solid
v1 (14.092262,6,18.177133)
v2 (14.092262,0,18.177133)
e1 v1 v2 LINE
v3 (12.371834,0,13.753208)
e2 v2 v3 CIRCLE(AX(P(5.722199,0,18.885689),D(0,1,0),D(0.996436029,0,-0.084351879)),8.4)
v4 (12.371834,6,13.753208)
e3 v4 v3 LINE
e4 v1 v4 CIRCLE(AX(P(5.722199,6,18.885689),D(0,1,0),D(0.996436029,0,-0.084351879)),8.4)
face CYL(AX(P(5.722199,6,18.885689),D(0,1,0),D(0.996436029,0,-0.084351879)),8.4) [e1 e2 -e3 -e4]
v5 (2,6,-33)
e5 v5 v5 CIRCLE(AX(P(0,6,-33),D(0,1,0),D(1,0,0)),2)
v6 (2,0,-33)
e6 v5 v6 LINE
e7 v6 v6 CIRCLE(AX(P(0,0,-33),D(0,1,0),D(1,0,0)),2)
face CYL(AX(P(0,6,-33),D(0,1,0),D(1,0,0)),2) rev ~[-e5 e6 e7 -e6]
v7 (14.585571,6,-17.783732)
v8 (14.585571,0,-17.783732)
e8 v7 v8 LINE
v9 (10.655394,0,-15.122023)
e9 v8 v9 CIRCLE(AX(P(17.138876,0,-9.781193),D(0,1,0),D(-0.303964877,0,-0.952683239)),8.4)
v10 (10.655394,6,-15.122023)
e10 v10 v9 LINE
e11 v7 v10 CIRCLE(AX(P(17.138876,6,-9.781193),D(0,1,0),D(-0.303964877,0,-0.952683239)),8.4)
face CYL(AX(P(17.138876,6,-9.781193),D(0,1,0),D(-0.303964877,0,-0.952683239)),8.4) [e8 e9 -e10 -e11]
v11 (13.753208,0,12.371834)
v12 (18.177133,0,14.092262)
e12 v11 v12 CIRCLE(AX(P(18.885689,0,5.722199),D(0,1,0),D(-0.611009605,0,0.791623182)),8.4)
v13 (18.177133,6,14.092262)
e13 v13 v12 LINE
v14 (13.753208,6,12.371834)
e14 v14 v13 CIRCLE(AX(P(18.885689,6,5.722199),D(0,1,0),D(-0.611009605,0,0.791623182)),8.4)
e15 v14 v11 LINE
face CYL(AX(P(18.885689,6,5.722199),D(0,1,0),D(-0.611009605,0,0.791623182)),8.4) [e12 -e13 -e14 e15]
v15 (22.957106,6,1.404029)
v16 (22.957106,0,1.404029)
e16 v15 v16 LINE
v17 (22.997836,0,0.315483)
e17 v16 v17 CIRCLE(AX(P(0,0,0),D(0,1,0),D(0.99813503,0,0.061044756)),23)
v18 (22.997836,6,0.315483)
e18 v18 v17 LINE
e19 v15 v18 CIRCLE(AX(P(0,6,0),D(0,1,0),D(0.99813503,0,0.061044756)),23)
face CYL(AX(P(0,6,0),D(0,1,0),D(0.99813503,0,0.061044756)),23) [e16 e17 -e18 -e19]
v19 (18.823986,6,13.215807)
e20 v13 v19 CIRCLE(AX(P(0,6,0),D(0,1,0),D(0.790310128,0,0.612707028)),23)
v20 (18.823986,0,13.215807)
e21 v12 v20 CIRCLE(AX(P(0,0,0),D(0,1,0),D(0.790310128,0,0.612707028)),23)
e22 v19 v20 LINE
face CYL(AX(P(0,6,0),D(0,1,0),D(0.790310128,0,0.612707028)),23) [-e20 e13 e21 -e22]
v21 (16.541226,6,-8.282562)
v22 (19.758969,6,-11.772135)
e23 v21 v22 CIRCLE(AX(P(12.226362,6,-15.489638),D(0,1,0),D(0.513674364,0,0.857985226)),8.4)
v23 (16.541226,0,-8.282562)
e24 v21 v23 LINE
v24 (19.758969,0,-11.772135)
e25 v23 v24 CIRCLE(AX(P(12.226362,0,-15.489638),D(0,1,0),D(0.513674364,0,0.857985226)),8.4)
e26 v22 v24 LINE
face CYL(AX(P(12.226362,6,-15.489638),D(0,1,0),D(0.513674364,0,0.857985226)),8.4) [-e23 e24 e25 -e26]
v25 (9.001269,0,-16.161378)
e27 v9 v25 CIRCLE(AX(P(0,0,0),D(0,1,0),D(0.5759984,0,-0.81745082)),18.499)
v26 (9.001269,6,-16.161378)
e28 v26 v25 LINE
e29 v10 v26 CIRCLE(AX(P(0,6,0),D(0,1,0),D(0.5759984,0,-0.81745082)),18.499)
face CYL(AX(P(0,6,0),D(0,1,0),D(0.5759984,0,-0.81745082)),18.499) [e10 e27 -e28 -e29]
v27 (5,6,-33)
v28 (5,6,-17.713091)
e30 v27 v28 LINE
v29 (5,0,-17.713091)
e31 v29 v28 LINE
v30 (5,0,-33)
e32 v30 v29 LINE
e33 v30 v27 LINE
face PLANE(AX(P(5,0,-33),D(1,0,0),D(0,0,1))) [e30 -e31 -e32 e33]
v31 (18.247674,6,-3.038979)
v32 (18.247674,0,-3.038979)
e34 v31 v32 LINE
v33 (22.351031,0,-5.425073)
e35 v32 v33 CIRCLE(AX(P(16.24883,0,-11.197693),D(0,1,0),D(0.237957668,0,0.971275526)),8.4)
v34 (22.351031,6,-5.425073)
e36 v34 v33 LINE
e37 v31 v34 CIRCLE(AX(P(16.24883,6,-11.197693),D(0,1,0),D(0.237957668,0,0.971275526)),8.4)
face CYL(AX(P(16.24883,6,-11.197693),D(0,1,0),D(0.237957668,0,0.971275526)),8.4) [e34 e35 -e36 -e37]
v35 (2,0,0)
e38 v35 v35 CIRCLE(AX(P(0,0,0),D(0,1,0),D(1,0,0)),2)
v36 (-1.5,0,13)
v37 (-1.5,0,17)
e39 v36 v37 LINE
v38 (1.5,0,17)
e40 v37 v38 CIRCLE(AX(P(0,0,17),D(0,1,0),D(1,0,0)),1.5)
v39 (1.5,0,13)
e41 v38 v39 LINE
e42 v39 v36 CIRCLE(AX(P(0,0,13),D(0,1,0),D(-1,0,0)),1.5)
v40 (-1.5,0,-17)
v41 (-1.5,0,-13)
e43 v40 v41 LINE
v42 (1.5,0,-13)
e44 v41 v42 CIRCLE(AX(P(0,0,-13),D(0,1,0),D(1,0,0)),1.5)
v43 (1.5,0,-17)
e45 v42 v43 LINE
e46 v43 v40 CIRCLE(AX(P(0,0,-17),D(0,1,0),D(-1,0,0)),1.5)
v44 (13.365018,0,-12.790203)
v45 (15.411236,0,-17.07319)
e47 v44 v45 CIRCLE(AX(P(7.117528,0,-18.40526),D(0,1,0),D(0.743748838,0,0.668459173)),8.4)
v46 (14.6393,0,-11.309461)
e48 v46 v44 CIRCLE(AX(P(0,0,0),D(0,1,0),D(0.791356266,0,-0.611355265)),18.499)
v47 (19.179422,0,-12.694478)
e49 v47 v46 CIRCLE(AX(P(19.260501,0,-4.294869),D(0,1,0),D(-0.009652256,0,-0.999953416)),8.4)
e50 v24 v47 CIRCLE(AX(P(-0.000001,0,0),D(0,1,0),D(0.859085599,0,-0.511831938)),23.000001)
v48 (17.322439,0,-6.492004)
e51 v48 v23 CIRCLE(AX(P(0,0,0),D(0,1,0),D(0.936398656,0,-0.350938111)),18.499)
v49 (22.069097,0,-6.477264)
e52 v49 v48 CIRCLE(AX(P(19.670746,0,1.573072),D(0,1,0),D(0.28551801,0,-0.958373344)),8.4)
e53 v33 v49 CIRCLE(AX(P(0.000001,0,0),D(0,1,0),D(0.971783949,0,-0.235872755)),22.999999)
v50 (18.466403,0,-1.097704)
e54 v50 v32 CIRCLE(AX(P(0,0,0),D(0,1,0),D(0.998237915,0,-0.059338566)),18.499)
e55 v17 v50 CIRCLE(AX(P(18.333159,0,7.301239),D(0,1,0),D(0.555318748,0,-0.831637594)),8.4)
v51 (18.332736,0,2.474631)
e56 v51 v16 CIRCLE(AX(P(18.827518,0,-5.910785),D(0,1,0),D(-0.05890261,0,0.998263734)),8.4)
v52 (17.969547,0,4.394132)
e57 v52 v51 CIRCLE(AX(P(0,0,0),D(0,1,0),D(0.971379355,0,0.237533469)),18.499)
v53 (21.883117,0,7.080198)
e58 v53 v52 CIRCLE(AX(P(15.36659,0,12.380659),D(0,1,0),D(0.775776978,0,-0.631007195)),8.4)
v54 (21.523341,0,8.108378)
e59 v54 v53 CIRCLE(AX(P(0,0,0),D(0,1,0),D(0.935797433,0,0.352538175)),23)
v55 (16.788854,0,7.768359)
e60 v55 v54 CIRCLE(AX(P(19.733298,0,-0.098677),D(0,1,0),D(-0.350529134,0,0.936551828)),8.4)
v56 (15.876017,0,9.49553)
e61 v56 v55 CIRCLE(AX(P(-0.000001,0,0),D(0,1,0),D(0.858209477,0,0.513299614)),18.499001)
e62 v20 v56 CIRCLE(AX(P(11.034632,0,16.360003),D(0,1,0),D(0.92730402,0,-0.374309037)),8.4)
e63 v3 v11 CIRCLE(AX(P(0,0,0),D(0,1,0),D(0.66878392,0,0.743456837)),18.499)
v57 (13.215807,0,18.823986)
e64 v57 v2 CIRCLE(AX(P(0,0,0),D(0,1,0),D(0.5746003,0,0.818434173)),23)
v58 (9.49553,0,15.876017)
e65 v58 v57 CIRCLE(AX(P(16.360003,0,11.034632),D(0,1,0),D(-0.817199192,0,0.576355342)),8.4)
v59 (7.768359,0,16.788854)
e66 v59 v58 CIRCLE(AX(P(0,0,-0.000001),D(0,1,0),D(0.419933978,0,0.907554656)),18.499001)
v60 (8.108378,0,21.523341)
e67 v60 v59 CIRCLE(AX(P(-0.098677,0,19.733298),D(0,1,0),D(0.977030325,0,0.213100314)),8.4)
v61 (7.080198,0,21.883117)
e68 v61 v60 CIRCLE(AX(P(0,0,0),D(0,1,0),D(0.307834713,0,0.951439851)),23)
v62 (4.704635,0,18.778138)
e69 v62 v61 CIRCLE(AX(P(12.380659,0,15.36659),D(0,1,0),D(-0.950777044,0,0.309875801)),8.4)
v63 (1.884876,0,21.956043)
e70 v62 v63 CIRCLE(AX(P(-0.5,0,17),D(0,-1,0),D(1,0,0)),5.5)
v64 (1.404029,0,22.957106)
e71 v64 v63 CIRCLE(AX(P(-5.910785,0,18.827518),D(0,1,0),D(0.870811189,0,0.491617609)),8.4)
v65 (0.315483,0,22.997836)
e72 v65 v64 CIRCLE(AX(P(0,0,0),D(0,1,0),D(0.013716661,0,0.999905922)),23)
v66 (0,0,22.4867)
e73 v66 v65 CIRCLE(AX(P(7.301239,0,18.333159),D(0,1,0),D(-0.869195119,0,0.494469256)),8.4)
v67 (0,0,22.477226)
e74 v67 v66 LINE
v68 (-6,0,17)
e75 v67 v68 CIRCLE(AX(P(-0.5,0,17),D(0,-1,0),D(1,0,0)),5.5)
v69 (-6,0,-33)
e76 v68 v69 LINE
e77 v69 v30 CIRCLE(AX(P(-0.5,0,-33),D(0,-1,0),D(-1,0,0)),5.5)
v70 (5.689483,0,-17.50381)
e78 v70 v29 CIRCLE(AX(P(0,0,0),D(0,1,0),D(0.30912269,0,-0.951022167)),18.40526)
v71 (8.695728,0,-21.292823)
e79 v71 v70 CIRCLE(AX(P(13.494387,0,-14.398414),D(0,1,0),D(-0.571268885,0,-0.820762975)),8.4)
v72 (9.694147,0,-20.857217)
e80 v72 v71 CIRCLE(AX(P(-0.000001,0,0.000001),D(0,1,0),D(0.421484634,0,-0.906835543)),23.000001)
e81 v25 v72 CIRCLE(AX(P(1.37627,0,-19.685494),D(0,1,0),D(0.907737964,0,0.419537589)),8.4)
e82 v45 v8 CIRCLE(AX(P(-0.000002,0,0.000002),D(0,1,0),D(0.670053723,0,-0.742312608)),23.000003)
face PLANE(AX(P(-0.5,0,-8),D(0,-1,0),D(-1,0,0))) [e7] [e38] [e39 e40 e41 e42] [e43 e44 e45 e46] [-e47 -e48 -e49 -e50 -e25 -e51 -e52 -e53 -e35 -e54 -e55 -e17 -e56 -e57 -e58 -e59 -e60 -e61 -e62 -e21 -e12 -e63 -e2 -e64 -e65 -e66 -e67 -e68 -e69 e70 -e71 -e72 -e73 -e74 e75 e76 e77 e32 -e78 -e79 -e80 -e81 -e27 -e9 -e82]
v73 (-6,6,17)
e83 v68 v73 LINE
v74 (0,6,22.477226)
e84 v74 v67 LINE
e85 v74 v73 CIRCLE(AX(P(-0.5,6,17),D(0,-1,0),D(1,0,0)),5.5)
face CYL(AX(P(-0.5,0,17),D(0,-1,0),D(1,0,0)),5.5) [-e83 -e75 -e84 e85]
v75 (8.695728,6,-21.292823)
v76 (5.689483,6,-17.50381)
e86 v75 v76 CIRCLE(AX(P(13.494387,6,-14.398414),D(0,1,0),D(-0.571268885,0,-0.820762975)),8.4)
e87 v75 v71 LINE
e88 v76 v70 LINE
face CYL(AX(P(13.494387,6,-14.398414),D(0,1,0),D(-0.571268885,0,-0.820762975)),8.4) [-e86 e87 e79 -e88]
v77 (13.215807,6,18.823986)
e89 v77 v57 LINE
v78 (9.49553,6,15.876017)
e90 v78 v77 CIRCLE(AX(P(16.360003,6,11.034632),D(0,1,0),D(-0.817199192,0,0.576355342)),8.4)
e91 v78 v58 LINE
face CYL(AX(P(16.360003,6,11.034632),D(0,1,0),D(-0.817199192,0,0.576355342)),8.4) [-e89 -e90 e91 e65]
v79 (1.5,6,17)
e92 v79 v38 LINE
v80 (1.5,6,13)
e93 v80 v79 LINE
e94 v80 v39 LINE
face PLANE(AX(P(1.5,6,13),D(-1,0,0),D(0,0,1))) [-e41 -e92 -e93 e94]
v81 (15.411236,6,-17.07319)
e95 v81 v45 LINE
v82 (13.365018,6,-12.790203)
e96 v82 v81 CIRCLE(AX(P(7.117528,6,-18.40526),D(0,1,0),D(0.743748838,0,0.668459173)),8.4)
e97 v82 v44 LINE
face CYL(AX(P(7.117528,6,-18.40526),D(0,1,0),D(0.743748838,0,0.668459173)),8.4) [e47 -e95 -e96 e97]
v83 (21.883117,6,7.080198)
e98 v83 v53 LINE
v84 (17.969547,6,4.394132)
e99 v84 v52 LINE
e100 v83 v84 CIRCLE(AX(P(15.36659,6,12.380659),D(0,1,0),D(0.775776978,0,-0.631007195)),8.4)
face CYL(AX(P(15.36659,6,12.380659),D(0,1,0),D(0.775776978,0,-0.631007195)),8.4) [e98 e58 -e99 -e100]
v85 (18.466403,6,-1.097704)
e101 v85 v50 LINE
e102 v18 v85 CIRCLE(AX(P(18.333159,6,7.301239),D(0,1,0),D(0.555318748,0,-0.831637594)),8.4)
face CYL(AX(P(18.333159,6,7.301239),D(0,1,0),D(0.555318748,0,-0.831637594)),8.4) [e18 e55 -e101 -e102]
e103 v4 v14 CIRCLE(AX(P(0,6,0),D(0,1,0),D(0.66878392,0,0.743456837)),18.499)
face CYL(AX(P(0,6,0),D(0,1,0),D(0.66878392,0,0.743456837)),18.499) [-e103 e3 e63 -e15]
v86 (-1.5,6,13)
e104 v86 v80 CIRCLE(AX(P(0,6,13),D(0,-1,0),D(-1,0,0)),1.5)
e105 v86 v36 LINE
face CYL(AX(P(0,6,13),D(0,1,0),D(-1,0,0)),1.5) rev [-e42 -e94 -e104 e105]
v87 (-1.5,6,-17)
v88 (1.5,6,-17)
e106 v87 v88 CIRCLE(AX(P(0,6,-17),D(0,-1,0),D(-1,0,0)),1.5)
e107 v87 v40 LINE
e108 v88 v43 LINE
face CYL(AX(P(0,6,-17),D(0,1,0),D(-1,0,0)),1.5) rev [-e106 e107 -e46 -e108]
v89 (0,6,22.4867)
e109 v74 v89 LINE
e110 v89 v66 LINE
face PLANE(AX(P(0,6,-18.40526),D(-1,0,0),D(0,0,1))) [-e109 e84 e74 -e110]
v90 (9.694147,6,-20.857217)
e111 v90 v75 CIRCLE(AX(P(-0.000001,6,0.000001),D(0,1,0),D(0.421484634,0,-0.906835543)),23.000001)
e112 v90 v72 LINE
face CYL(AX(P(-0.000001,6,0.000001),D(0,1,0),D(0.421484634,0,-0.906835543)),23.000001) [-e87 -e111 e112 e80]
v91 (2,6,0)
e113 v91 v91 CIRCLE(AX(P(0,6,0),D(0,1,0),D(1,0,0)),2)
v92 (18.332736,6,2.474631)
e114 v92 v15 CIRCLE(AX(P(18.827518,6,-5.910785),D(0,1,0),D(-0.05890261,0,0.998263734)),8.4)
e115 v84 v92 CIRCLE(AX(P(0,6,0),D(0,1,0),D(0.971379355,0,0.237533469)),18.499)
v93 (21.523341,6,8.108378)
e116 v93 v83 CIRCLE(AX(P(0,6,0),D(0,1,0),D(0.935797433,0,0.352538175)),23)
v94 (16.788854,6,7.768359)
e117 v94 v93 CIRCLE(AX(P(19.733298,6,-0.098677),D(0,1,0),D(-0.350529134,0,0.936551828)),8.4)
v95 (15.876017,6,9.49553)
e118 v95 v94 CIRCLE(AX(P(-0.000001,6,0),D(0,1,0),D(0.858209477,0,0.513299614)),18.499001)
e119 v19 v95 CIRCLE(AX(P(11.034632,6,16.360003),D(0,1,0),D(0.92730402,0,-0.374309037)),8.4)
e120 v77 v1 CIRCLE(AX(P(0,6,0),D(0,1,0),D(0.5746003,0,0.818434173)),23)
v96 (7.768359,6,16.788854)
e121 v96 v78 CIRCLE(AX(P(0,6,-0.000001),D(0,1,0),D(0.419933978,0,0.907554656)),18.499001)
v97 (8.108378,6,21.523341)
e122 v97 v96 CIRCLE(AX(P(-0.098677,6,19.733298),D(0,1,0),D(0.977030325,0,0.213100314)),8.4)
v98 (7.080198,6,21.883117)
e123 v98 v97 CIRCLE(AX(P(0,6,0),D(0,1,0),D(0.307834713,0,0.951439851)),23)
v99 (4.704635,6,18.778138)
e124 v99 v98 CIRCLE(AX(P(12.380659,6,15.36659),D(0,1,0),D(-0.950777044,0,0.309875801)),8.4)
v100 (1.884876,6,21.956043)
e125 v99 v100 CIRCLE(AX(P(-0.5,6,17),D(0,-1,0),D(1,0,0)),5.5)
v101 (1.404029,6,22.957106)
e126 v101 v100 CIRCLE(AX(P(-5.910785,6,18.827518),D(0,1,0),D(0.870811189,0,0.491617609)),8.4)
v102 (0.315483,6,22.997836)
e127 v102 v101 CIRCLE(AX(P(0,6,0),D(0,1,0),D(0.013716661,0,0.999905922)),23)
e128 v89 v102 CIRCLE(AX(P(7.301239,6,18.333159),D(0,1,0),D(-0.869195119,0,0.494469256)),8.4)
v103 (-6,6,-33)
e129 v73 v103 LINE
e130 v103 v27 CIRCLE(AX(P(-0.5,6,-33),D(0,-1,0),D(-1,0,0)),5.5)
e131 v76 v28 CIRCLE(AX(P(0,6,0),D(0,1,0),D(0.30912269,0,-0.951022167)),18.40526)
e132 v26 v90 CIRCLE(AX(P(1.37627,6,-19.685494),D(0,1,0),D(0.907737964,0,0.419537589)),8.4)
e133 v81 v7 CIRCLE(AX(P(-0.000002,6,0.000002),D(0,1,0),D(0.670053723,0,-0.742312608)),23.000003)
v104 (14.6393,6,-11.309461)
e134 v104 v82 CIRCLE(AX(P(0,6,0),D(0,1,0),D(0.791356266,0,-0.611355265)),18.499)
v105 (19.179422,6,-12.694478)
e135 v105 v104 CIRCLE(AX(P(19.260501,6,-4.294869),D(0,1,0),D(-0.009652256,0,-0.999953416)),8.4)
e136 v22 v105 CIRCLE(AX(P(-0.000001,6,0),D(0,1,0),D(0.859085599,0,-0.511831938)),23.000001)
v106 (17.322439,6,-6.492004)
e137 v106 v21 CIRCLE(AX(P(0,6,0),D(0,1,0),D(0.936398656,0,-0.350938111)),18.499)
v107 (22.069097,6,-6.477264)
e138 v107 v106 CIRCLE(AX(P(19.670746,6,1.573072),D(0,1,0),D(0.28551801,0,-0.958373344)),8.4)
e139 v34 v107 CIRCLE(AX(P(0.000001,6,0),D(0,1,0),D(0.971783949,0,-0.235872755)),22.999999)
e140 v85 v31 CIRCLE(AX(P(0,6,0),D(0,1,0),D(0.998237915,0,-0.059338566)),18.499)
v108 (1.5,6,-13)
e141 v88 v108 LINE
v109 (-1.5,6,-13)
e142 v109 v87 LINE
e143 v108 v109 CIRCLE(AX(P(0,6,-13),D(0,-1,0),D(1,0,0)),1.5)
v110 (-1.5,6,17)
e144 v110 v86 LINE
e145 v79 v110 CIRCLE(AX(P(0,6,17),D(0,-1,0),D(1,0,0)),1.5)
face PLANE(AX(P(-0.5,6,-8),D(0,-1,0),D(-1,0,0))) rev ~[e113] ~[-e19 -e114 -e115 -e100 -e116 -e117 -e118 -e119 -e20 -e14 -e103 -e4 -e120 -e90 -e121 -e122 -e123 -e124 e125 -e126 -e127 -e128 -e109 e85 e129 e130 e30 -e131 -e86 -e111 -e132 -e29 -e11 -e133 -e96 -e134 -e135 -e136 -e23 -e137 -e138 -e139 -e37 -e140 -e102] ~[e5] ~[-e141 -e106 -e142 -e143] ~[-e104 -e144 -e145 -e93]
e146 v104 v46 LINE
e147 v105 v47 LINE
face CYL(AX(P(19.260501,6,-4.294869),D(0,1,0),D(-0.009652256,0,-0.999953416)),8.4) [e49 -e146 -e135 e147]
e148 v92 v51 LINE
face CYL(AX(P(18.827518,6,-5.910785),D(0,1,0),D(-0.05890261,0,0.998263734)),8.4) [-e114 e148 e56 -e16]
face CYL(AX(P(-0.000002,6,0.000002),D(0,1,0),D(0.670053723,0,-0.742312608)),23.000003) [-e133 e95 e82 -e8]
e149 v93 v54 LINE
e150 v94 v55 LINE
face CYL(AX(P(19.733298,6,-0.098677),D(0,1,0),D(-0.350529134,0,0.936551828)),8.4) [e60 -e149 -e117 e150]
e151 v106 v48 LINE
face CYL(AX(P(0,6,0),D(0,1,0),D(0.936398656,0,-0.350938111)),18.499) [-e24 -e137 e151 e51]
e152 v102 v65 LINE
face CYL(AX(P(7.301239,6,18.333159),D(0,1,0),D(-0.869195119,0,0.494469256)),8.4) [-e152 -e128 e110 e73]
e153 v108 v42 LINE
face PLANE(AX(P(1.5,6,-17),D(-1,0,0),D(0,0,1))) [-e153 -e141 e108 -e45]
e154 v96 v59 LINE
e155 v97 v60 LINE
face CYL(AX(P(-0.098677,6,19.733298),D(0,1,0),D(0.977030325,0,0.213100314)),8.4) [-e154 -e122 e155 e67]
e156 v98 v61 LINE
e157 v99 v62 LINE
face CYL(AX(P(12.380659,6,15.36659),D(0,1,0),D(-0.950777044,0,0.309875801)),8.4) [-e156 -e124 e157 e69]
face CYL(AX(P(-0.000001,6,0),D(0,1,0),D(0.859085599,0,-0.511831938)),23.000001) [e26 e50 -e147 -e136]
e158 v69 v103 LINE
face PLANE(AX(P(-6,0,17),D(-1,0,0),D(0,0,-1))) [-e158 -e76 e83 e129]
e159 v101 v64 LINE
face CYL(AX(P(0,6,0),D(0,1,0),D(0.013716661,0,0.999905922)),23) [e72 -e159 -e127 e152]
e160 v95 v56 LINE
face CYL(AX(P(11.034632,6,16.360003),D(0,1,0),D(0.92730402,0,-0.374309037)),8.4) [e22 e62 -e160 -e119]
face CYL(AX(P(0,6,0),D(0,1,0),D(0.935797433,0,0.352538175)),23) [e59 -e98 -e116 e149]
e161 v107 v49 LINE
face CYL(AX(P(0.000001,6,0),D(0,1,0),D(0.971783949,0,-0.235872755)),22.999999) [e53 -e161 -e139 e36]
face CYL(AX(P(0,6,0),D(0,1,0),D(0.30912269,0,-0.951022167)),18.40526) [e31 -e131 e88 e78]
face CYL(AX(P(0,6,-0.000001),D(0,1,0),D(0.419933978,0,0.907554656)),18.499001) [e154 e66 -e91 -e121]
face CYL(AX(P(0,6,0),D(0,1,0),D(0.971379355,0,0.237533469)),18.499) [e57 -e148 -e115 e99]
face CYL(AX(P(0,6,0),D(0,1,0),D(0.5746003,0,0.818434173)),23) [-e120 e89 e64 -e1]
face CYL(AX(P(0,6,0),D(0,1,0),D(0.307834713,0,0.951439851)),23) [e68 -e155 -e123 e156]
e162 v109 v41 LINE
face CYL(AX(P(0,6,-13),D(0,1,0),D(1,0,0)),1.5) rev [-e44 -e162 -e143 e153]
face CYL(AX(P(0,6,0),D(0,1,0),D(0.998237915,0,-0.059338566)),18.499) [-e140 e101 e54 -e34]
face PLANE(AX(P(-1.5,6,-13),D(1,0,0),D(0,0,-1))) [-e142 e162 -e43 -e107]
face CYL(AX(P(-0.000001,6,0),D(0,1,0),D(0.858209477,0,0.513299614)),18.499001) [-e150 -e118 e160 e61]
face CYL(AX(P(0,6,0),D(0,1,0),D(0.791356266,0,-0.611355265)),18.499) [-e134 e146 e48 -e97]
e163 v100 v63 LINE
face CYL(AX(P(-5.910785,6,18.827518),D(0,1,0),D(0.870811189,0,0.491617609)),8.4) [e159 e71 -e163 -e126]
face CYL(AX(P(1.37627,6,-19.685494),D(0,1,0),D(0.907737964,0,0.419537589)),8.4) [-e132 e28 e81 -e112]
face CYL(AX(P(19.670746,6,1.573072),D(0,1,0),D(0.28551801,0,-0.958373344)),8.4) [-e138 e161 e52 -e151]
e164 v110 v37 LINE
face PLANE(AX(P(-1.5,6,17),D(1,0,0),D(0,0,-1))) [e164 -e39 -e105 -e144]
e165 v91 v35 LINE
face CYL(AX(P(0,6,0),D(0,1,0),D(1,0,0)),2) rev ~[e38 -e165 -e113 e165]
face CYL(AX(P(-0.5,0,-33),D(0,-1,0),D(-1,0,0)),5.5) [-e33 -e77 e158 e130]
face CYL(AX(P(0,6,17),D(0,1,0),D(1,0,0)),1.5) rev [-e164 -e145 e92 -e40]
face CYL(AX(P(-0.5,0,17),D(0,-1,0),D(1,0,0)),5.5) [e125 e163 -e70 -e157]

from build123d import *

# Parameters (mm, degrees)
BOSS_EXTRUDE1_DEPTH = 6
BOSS_EXTRUDE2_DEPTH = 6
SKETCH2_R           = 2
CUT_EXTRUDE1_DEPTH  = 7


with BuildPart() as part:
    # Sketch1 → Boss-Extrude1 (new body)
    with BuildSketch(Plane(origin=(0, 0, 0), x_dir=(1, 0, 0), z_dir=(0, 1, 0))):
        with BuildLine():
            Line((5, 33), (5, 0))
            Line((5, 0), (5, -17))
            ThreePointArc((5, -17), (-0.5, -22.5), (-6, -17))
            Line((-6, -17), (-6, 0))
            Line((-6, 0), (-6, 33))
            ThreePointArc((-6, 33), (-0.5, 38.5), (5, 33))
        make_face()
    extrude(amount=BOSS_EXTRUDE1_DEPTH)

    # Sketch4 → Boss-Extrude2 (add)
    with BuildSketch(Plane(origin=(0, 6, 0), x_dir=(1, 0, 0), z_dir=(0, 1, 0))):
        with BuildLine():
            Line((0, 18.405260039), (0, -22.486700485))
            ThreePointArc((0, -22.486700485), (0.153171428, -22.74508915), (0.315483204, -22.99783621))
            ThreePointArc((0.315483204, -22.99783621), (0.859997468, -22.98391621), (1.404029403, -22.957105685))
            ThreePointArc((1.404029403, -22.957105685), (2.272765962, -20.722115477), (2.474630782, -18.332735843))
            ThreePointArc((2.474630782, -18.332735843), (3.439178821, -18.176497188), (4.39413166, -17.969546682))
            ThreePointArc((4.39413166, -17.969546682), (5.454980724, -20.120007959), (7.080198393, -21.883116568))
            ThreePointArc((7.080198393, -21.883116568), (7.596418425, -21.709316597), (8.108378007, -21.52334096))
            ThreePointArc((8.108378007, -21.52334096), (8.279744109, -19.1315805), (7.76835863, -16.7888536))
            ThreePointArc((7.76835863, -16.7888536), (8.644002354, -16.355250664), (9.495529586, -15.876017098))
            ThreePointArc((9.495529586, -15.876017098), (11.143107691, -17.618248663), (13.215806885, -18.823985986))
            ThreePointArc((13.215806885, -18.823985986), (13.657864268, -18.505748935), (14.092261641, -18.177132938))
            ThreePointArc((14.092261641, -18.177132938), (13.551030657, -15.841120639), (12.371833724, -13.753208037))
            ThreePointArc((12.371833724, -13.753208037), (13.080768345, -13.080768345), (13.753208037, -12.371833724))
            ThreePointArc((13.753208037, -12.371833724), (15.841120639, -13.551030657), (18.177132938, -14.092261641))
            ThreePointArc((18.177132938, -14.092261641), (18.505748935, -13.657864268), (18.823985986, -13.215806885))
            ThreePointArc((18.823985986, -13.215806885), (17.618248663, -11.143107691), (15.876017098, -9.495529586))
            ThreePointArc((15.876017098, -9.495529586), (16.355250664, -8.644002354), (16.7888536, -7.76835863))
            ThreePointArc((16.7888536, -7.76835863), (19.1315805, -8.279744109), (21.52334096, -8.108378007))
            ThreePointArc((21.52334096, -8.108378007), (21.709316597, -7.596418425), (21.883116568, -7.080198393))
            ThreePointArc((21.883116568, -7.080198393), (20.120007959, -5.454980724), (17.969546682, -4.39413166))
            ThreePointArc((17.969546682, -4.39413166), (18.176497188, -3.439178821), (18.332735843, -2.474630782))
            ThreePointArc((18.332735843, -2.474630782), (20.722115477, -2.272765962), (22.957105685, -1.404029403))
            ThreePointArc((22.957105685, -1.404029403), (22.98391621, -0.859997468), (22.99783621, -0.315483204))
            ThreePointArc((22.99783621, -0.315483204), (20.834016252, 0.717845219), (18.466403185, 1.097704147))
            ThreePointArc((18.466403185, 1.097704147), (18.382682171, 2.071230843), (18.247674055, 3.038978872))
            ThreePointArc((18.247674055, 3.038978872), (20.471399556, 3.936157414), (22.351030824, 5.425073374))
            ThreePointArc((22.351030824, 5.425073374), (22.216294005, 5.952838037), (22.069097181, 6.477264053))
            ThreePointArc((22.069097181, 6.477264053), (19.696830773, 6.826887464), (17.322438727, 6.492004123))
            ThreePointArc((17.322438727, 6.492004123), (16.955485171, 7.397602558), (16.541226348, 8.282561916))
            ThreePointArc((16.541226348, 8.282561916), (18.401709947, 9.795335931), (19.758968788, 11.772134574))
            ThreePointArc((19.758968788, 11.772134574), (19.474656582, 12.23673776), (19.179422019, 12.694477974))
            ThreePointArc((19.179422019, 12.694477974), (16.809495442, 12.329330799), (14.63929957, 11.309461043))
            ThreePointArc((14.63929957, 11.309461043), (14.021718906, 12.066664821), (13.365018091, 12.790202986))
            ThreePointArc((13.365018091, 12.790202986), (14.696947654, 14.784155864), (15.411235665, 17.073189956))
            ThreePointArc((15.411235665, 17.073189956), (15.002610459, 17.433349632), (14.585571043, 17.783731818))
            ThreePointArc((14.585571043, 17.783731818), (12.428562673, 16.736258985), (10.655394403, 15.122022719))
            ThreePointArc((10.655394403, 15.122022719), (9.842061383, 15.663550962), (9.001269325, 16.161378393))
            ThreePointArc((9.001269325, 16.161378393), (9.686297066, 18.459338669), (9.694146621, 20.857217487))
            ThreePointArc((9.694146621, 20.857217487), (9.197516559, 21.080931885), (8.695728072, 21.292823047))
            ThreePointArc((8.695728072, 21.292823047), (6.913991789, 19.619372088), (5.689483487, 17.503810292))
            ThreePointArc((5.689483487, 17.503810292), (2.880227161, 18.178500725), (0, 18.405260039))
        make_face()
    extrude(amount=-BOSS_EXTRUDE2_DEPTH)

    # Sketch2 → Cut-Extrude1 (cut, through all)
    with BuildSketch(Plane(origin=(0, 6, 0), x_dir=(1, 0, 0), z_dir=(0, 1, 0))):
        Circle(SKETCH2_R)
        with Locations((0, 33)):
            Circle(SKETCH2_R)
        with BuildLine():
            Line((1.5, 17), (1.5, 13))
            ThreePointArc((1.5, 13), (0, 11.5), (-1.5, 13))
            Line((-1.5, 13), (-1.5, 17))
            ThreePointArc((-1.5, 17), (0, 18.5), (1.5, 17))
        make_face()
        with BuildLine():
            Line((-1.5, -17), (-1.5, -13))
            ThreePointArc((-1.5, -13), (0, -11.5), (1.5, -13))
            Line((1.5, -13), (1.5, -17))
            ThreePointArc((1.5, -17), (0, -18.5), (-1.5, -17))
        make_face()
    extrude(amount=-CUT_EXTRUDE1_DEPTH, mode=Mode.SUBTRACT)


solid = part.part
